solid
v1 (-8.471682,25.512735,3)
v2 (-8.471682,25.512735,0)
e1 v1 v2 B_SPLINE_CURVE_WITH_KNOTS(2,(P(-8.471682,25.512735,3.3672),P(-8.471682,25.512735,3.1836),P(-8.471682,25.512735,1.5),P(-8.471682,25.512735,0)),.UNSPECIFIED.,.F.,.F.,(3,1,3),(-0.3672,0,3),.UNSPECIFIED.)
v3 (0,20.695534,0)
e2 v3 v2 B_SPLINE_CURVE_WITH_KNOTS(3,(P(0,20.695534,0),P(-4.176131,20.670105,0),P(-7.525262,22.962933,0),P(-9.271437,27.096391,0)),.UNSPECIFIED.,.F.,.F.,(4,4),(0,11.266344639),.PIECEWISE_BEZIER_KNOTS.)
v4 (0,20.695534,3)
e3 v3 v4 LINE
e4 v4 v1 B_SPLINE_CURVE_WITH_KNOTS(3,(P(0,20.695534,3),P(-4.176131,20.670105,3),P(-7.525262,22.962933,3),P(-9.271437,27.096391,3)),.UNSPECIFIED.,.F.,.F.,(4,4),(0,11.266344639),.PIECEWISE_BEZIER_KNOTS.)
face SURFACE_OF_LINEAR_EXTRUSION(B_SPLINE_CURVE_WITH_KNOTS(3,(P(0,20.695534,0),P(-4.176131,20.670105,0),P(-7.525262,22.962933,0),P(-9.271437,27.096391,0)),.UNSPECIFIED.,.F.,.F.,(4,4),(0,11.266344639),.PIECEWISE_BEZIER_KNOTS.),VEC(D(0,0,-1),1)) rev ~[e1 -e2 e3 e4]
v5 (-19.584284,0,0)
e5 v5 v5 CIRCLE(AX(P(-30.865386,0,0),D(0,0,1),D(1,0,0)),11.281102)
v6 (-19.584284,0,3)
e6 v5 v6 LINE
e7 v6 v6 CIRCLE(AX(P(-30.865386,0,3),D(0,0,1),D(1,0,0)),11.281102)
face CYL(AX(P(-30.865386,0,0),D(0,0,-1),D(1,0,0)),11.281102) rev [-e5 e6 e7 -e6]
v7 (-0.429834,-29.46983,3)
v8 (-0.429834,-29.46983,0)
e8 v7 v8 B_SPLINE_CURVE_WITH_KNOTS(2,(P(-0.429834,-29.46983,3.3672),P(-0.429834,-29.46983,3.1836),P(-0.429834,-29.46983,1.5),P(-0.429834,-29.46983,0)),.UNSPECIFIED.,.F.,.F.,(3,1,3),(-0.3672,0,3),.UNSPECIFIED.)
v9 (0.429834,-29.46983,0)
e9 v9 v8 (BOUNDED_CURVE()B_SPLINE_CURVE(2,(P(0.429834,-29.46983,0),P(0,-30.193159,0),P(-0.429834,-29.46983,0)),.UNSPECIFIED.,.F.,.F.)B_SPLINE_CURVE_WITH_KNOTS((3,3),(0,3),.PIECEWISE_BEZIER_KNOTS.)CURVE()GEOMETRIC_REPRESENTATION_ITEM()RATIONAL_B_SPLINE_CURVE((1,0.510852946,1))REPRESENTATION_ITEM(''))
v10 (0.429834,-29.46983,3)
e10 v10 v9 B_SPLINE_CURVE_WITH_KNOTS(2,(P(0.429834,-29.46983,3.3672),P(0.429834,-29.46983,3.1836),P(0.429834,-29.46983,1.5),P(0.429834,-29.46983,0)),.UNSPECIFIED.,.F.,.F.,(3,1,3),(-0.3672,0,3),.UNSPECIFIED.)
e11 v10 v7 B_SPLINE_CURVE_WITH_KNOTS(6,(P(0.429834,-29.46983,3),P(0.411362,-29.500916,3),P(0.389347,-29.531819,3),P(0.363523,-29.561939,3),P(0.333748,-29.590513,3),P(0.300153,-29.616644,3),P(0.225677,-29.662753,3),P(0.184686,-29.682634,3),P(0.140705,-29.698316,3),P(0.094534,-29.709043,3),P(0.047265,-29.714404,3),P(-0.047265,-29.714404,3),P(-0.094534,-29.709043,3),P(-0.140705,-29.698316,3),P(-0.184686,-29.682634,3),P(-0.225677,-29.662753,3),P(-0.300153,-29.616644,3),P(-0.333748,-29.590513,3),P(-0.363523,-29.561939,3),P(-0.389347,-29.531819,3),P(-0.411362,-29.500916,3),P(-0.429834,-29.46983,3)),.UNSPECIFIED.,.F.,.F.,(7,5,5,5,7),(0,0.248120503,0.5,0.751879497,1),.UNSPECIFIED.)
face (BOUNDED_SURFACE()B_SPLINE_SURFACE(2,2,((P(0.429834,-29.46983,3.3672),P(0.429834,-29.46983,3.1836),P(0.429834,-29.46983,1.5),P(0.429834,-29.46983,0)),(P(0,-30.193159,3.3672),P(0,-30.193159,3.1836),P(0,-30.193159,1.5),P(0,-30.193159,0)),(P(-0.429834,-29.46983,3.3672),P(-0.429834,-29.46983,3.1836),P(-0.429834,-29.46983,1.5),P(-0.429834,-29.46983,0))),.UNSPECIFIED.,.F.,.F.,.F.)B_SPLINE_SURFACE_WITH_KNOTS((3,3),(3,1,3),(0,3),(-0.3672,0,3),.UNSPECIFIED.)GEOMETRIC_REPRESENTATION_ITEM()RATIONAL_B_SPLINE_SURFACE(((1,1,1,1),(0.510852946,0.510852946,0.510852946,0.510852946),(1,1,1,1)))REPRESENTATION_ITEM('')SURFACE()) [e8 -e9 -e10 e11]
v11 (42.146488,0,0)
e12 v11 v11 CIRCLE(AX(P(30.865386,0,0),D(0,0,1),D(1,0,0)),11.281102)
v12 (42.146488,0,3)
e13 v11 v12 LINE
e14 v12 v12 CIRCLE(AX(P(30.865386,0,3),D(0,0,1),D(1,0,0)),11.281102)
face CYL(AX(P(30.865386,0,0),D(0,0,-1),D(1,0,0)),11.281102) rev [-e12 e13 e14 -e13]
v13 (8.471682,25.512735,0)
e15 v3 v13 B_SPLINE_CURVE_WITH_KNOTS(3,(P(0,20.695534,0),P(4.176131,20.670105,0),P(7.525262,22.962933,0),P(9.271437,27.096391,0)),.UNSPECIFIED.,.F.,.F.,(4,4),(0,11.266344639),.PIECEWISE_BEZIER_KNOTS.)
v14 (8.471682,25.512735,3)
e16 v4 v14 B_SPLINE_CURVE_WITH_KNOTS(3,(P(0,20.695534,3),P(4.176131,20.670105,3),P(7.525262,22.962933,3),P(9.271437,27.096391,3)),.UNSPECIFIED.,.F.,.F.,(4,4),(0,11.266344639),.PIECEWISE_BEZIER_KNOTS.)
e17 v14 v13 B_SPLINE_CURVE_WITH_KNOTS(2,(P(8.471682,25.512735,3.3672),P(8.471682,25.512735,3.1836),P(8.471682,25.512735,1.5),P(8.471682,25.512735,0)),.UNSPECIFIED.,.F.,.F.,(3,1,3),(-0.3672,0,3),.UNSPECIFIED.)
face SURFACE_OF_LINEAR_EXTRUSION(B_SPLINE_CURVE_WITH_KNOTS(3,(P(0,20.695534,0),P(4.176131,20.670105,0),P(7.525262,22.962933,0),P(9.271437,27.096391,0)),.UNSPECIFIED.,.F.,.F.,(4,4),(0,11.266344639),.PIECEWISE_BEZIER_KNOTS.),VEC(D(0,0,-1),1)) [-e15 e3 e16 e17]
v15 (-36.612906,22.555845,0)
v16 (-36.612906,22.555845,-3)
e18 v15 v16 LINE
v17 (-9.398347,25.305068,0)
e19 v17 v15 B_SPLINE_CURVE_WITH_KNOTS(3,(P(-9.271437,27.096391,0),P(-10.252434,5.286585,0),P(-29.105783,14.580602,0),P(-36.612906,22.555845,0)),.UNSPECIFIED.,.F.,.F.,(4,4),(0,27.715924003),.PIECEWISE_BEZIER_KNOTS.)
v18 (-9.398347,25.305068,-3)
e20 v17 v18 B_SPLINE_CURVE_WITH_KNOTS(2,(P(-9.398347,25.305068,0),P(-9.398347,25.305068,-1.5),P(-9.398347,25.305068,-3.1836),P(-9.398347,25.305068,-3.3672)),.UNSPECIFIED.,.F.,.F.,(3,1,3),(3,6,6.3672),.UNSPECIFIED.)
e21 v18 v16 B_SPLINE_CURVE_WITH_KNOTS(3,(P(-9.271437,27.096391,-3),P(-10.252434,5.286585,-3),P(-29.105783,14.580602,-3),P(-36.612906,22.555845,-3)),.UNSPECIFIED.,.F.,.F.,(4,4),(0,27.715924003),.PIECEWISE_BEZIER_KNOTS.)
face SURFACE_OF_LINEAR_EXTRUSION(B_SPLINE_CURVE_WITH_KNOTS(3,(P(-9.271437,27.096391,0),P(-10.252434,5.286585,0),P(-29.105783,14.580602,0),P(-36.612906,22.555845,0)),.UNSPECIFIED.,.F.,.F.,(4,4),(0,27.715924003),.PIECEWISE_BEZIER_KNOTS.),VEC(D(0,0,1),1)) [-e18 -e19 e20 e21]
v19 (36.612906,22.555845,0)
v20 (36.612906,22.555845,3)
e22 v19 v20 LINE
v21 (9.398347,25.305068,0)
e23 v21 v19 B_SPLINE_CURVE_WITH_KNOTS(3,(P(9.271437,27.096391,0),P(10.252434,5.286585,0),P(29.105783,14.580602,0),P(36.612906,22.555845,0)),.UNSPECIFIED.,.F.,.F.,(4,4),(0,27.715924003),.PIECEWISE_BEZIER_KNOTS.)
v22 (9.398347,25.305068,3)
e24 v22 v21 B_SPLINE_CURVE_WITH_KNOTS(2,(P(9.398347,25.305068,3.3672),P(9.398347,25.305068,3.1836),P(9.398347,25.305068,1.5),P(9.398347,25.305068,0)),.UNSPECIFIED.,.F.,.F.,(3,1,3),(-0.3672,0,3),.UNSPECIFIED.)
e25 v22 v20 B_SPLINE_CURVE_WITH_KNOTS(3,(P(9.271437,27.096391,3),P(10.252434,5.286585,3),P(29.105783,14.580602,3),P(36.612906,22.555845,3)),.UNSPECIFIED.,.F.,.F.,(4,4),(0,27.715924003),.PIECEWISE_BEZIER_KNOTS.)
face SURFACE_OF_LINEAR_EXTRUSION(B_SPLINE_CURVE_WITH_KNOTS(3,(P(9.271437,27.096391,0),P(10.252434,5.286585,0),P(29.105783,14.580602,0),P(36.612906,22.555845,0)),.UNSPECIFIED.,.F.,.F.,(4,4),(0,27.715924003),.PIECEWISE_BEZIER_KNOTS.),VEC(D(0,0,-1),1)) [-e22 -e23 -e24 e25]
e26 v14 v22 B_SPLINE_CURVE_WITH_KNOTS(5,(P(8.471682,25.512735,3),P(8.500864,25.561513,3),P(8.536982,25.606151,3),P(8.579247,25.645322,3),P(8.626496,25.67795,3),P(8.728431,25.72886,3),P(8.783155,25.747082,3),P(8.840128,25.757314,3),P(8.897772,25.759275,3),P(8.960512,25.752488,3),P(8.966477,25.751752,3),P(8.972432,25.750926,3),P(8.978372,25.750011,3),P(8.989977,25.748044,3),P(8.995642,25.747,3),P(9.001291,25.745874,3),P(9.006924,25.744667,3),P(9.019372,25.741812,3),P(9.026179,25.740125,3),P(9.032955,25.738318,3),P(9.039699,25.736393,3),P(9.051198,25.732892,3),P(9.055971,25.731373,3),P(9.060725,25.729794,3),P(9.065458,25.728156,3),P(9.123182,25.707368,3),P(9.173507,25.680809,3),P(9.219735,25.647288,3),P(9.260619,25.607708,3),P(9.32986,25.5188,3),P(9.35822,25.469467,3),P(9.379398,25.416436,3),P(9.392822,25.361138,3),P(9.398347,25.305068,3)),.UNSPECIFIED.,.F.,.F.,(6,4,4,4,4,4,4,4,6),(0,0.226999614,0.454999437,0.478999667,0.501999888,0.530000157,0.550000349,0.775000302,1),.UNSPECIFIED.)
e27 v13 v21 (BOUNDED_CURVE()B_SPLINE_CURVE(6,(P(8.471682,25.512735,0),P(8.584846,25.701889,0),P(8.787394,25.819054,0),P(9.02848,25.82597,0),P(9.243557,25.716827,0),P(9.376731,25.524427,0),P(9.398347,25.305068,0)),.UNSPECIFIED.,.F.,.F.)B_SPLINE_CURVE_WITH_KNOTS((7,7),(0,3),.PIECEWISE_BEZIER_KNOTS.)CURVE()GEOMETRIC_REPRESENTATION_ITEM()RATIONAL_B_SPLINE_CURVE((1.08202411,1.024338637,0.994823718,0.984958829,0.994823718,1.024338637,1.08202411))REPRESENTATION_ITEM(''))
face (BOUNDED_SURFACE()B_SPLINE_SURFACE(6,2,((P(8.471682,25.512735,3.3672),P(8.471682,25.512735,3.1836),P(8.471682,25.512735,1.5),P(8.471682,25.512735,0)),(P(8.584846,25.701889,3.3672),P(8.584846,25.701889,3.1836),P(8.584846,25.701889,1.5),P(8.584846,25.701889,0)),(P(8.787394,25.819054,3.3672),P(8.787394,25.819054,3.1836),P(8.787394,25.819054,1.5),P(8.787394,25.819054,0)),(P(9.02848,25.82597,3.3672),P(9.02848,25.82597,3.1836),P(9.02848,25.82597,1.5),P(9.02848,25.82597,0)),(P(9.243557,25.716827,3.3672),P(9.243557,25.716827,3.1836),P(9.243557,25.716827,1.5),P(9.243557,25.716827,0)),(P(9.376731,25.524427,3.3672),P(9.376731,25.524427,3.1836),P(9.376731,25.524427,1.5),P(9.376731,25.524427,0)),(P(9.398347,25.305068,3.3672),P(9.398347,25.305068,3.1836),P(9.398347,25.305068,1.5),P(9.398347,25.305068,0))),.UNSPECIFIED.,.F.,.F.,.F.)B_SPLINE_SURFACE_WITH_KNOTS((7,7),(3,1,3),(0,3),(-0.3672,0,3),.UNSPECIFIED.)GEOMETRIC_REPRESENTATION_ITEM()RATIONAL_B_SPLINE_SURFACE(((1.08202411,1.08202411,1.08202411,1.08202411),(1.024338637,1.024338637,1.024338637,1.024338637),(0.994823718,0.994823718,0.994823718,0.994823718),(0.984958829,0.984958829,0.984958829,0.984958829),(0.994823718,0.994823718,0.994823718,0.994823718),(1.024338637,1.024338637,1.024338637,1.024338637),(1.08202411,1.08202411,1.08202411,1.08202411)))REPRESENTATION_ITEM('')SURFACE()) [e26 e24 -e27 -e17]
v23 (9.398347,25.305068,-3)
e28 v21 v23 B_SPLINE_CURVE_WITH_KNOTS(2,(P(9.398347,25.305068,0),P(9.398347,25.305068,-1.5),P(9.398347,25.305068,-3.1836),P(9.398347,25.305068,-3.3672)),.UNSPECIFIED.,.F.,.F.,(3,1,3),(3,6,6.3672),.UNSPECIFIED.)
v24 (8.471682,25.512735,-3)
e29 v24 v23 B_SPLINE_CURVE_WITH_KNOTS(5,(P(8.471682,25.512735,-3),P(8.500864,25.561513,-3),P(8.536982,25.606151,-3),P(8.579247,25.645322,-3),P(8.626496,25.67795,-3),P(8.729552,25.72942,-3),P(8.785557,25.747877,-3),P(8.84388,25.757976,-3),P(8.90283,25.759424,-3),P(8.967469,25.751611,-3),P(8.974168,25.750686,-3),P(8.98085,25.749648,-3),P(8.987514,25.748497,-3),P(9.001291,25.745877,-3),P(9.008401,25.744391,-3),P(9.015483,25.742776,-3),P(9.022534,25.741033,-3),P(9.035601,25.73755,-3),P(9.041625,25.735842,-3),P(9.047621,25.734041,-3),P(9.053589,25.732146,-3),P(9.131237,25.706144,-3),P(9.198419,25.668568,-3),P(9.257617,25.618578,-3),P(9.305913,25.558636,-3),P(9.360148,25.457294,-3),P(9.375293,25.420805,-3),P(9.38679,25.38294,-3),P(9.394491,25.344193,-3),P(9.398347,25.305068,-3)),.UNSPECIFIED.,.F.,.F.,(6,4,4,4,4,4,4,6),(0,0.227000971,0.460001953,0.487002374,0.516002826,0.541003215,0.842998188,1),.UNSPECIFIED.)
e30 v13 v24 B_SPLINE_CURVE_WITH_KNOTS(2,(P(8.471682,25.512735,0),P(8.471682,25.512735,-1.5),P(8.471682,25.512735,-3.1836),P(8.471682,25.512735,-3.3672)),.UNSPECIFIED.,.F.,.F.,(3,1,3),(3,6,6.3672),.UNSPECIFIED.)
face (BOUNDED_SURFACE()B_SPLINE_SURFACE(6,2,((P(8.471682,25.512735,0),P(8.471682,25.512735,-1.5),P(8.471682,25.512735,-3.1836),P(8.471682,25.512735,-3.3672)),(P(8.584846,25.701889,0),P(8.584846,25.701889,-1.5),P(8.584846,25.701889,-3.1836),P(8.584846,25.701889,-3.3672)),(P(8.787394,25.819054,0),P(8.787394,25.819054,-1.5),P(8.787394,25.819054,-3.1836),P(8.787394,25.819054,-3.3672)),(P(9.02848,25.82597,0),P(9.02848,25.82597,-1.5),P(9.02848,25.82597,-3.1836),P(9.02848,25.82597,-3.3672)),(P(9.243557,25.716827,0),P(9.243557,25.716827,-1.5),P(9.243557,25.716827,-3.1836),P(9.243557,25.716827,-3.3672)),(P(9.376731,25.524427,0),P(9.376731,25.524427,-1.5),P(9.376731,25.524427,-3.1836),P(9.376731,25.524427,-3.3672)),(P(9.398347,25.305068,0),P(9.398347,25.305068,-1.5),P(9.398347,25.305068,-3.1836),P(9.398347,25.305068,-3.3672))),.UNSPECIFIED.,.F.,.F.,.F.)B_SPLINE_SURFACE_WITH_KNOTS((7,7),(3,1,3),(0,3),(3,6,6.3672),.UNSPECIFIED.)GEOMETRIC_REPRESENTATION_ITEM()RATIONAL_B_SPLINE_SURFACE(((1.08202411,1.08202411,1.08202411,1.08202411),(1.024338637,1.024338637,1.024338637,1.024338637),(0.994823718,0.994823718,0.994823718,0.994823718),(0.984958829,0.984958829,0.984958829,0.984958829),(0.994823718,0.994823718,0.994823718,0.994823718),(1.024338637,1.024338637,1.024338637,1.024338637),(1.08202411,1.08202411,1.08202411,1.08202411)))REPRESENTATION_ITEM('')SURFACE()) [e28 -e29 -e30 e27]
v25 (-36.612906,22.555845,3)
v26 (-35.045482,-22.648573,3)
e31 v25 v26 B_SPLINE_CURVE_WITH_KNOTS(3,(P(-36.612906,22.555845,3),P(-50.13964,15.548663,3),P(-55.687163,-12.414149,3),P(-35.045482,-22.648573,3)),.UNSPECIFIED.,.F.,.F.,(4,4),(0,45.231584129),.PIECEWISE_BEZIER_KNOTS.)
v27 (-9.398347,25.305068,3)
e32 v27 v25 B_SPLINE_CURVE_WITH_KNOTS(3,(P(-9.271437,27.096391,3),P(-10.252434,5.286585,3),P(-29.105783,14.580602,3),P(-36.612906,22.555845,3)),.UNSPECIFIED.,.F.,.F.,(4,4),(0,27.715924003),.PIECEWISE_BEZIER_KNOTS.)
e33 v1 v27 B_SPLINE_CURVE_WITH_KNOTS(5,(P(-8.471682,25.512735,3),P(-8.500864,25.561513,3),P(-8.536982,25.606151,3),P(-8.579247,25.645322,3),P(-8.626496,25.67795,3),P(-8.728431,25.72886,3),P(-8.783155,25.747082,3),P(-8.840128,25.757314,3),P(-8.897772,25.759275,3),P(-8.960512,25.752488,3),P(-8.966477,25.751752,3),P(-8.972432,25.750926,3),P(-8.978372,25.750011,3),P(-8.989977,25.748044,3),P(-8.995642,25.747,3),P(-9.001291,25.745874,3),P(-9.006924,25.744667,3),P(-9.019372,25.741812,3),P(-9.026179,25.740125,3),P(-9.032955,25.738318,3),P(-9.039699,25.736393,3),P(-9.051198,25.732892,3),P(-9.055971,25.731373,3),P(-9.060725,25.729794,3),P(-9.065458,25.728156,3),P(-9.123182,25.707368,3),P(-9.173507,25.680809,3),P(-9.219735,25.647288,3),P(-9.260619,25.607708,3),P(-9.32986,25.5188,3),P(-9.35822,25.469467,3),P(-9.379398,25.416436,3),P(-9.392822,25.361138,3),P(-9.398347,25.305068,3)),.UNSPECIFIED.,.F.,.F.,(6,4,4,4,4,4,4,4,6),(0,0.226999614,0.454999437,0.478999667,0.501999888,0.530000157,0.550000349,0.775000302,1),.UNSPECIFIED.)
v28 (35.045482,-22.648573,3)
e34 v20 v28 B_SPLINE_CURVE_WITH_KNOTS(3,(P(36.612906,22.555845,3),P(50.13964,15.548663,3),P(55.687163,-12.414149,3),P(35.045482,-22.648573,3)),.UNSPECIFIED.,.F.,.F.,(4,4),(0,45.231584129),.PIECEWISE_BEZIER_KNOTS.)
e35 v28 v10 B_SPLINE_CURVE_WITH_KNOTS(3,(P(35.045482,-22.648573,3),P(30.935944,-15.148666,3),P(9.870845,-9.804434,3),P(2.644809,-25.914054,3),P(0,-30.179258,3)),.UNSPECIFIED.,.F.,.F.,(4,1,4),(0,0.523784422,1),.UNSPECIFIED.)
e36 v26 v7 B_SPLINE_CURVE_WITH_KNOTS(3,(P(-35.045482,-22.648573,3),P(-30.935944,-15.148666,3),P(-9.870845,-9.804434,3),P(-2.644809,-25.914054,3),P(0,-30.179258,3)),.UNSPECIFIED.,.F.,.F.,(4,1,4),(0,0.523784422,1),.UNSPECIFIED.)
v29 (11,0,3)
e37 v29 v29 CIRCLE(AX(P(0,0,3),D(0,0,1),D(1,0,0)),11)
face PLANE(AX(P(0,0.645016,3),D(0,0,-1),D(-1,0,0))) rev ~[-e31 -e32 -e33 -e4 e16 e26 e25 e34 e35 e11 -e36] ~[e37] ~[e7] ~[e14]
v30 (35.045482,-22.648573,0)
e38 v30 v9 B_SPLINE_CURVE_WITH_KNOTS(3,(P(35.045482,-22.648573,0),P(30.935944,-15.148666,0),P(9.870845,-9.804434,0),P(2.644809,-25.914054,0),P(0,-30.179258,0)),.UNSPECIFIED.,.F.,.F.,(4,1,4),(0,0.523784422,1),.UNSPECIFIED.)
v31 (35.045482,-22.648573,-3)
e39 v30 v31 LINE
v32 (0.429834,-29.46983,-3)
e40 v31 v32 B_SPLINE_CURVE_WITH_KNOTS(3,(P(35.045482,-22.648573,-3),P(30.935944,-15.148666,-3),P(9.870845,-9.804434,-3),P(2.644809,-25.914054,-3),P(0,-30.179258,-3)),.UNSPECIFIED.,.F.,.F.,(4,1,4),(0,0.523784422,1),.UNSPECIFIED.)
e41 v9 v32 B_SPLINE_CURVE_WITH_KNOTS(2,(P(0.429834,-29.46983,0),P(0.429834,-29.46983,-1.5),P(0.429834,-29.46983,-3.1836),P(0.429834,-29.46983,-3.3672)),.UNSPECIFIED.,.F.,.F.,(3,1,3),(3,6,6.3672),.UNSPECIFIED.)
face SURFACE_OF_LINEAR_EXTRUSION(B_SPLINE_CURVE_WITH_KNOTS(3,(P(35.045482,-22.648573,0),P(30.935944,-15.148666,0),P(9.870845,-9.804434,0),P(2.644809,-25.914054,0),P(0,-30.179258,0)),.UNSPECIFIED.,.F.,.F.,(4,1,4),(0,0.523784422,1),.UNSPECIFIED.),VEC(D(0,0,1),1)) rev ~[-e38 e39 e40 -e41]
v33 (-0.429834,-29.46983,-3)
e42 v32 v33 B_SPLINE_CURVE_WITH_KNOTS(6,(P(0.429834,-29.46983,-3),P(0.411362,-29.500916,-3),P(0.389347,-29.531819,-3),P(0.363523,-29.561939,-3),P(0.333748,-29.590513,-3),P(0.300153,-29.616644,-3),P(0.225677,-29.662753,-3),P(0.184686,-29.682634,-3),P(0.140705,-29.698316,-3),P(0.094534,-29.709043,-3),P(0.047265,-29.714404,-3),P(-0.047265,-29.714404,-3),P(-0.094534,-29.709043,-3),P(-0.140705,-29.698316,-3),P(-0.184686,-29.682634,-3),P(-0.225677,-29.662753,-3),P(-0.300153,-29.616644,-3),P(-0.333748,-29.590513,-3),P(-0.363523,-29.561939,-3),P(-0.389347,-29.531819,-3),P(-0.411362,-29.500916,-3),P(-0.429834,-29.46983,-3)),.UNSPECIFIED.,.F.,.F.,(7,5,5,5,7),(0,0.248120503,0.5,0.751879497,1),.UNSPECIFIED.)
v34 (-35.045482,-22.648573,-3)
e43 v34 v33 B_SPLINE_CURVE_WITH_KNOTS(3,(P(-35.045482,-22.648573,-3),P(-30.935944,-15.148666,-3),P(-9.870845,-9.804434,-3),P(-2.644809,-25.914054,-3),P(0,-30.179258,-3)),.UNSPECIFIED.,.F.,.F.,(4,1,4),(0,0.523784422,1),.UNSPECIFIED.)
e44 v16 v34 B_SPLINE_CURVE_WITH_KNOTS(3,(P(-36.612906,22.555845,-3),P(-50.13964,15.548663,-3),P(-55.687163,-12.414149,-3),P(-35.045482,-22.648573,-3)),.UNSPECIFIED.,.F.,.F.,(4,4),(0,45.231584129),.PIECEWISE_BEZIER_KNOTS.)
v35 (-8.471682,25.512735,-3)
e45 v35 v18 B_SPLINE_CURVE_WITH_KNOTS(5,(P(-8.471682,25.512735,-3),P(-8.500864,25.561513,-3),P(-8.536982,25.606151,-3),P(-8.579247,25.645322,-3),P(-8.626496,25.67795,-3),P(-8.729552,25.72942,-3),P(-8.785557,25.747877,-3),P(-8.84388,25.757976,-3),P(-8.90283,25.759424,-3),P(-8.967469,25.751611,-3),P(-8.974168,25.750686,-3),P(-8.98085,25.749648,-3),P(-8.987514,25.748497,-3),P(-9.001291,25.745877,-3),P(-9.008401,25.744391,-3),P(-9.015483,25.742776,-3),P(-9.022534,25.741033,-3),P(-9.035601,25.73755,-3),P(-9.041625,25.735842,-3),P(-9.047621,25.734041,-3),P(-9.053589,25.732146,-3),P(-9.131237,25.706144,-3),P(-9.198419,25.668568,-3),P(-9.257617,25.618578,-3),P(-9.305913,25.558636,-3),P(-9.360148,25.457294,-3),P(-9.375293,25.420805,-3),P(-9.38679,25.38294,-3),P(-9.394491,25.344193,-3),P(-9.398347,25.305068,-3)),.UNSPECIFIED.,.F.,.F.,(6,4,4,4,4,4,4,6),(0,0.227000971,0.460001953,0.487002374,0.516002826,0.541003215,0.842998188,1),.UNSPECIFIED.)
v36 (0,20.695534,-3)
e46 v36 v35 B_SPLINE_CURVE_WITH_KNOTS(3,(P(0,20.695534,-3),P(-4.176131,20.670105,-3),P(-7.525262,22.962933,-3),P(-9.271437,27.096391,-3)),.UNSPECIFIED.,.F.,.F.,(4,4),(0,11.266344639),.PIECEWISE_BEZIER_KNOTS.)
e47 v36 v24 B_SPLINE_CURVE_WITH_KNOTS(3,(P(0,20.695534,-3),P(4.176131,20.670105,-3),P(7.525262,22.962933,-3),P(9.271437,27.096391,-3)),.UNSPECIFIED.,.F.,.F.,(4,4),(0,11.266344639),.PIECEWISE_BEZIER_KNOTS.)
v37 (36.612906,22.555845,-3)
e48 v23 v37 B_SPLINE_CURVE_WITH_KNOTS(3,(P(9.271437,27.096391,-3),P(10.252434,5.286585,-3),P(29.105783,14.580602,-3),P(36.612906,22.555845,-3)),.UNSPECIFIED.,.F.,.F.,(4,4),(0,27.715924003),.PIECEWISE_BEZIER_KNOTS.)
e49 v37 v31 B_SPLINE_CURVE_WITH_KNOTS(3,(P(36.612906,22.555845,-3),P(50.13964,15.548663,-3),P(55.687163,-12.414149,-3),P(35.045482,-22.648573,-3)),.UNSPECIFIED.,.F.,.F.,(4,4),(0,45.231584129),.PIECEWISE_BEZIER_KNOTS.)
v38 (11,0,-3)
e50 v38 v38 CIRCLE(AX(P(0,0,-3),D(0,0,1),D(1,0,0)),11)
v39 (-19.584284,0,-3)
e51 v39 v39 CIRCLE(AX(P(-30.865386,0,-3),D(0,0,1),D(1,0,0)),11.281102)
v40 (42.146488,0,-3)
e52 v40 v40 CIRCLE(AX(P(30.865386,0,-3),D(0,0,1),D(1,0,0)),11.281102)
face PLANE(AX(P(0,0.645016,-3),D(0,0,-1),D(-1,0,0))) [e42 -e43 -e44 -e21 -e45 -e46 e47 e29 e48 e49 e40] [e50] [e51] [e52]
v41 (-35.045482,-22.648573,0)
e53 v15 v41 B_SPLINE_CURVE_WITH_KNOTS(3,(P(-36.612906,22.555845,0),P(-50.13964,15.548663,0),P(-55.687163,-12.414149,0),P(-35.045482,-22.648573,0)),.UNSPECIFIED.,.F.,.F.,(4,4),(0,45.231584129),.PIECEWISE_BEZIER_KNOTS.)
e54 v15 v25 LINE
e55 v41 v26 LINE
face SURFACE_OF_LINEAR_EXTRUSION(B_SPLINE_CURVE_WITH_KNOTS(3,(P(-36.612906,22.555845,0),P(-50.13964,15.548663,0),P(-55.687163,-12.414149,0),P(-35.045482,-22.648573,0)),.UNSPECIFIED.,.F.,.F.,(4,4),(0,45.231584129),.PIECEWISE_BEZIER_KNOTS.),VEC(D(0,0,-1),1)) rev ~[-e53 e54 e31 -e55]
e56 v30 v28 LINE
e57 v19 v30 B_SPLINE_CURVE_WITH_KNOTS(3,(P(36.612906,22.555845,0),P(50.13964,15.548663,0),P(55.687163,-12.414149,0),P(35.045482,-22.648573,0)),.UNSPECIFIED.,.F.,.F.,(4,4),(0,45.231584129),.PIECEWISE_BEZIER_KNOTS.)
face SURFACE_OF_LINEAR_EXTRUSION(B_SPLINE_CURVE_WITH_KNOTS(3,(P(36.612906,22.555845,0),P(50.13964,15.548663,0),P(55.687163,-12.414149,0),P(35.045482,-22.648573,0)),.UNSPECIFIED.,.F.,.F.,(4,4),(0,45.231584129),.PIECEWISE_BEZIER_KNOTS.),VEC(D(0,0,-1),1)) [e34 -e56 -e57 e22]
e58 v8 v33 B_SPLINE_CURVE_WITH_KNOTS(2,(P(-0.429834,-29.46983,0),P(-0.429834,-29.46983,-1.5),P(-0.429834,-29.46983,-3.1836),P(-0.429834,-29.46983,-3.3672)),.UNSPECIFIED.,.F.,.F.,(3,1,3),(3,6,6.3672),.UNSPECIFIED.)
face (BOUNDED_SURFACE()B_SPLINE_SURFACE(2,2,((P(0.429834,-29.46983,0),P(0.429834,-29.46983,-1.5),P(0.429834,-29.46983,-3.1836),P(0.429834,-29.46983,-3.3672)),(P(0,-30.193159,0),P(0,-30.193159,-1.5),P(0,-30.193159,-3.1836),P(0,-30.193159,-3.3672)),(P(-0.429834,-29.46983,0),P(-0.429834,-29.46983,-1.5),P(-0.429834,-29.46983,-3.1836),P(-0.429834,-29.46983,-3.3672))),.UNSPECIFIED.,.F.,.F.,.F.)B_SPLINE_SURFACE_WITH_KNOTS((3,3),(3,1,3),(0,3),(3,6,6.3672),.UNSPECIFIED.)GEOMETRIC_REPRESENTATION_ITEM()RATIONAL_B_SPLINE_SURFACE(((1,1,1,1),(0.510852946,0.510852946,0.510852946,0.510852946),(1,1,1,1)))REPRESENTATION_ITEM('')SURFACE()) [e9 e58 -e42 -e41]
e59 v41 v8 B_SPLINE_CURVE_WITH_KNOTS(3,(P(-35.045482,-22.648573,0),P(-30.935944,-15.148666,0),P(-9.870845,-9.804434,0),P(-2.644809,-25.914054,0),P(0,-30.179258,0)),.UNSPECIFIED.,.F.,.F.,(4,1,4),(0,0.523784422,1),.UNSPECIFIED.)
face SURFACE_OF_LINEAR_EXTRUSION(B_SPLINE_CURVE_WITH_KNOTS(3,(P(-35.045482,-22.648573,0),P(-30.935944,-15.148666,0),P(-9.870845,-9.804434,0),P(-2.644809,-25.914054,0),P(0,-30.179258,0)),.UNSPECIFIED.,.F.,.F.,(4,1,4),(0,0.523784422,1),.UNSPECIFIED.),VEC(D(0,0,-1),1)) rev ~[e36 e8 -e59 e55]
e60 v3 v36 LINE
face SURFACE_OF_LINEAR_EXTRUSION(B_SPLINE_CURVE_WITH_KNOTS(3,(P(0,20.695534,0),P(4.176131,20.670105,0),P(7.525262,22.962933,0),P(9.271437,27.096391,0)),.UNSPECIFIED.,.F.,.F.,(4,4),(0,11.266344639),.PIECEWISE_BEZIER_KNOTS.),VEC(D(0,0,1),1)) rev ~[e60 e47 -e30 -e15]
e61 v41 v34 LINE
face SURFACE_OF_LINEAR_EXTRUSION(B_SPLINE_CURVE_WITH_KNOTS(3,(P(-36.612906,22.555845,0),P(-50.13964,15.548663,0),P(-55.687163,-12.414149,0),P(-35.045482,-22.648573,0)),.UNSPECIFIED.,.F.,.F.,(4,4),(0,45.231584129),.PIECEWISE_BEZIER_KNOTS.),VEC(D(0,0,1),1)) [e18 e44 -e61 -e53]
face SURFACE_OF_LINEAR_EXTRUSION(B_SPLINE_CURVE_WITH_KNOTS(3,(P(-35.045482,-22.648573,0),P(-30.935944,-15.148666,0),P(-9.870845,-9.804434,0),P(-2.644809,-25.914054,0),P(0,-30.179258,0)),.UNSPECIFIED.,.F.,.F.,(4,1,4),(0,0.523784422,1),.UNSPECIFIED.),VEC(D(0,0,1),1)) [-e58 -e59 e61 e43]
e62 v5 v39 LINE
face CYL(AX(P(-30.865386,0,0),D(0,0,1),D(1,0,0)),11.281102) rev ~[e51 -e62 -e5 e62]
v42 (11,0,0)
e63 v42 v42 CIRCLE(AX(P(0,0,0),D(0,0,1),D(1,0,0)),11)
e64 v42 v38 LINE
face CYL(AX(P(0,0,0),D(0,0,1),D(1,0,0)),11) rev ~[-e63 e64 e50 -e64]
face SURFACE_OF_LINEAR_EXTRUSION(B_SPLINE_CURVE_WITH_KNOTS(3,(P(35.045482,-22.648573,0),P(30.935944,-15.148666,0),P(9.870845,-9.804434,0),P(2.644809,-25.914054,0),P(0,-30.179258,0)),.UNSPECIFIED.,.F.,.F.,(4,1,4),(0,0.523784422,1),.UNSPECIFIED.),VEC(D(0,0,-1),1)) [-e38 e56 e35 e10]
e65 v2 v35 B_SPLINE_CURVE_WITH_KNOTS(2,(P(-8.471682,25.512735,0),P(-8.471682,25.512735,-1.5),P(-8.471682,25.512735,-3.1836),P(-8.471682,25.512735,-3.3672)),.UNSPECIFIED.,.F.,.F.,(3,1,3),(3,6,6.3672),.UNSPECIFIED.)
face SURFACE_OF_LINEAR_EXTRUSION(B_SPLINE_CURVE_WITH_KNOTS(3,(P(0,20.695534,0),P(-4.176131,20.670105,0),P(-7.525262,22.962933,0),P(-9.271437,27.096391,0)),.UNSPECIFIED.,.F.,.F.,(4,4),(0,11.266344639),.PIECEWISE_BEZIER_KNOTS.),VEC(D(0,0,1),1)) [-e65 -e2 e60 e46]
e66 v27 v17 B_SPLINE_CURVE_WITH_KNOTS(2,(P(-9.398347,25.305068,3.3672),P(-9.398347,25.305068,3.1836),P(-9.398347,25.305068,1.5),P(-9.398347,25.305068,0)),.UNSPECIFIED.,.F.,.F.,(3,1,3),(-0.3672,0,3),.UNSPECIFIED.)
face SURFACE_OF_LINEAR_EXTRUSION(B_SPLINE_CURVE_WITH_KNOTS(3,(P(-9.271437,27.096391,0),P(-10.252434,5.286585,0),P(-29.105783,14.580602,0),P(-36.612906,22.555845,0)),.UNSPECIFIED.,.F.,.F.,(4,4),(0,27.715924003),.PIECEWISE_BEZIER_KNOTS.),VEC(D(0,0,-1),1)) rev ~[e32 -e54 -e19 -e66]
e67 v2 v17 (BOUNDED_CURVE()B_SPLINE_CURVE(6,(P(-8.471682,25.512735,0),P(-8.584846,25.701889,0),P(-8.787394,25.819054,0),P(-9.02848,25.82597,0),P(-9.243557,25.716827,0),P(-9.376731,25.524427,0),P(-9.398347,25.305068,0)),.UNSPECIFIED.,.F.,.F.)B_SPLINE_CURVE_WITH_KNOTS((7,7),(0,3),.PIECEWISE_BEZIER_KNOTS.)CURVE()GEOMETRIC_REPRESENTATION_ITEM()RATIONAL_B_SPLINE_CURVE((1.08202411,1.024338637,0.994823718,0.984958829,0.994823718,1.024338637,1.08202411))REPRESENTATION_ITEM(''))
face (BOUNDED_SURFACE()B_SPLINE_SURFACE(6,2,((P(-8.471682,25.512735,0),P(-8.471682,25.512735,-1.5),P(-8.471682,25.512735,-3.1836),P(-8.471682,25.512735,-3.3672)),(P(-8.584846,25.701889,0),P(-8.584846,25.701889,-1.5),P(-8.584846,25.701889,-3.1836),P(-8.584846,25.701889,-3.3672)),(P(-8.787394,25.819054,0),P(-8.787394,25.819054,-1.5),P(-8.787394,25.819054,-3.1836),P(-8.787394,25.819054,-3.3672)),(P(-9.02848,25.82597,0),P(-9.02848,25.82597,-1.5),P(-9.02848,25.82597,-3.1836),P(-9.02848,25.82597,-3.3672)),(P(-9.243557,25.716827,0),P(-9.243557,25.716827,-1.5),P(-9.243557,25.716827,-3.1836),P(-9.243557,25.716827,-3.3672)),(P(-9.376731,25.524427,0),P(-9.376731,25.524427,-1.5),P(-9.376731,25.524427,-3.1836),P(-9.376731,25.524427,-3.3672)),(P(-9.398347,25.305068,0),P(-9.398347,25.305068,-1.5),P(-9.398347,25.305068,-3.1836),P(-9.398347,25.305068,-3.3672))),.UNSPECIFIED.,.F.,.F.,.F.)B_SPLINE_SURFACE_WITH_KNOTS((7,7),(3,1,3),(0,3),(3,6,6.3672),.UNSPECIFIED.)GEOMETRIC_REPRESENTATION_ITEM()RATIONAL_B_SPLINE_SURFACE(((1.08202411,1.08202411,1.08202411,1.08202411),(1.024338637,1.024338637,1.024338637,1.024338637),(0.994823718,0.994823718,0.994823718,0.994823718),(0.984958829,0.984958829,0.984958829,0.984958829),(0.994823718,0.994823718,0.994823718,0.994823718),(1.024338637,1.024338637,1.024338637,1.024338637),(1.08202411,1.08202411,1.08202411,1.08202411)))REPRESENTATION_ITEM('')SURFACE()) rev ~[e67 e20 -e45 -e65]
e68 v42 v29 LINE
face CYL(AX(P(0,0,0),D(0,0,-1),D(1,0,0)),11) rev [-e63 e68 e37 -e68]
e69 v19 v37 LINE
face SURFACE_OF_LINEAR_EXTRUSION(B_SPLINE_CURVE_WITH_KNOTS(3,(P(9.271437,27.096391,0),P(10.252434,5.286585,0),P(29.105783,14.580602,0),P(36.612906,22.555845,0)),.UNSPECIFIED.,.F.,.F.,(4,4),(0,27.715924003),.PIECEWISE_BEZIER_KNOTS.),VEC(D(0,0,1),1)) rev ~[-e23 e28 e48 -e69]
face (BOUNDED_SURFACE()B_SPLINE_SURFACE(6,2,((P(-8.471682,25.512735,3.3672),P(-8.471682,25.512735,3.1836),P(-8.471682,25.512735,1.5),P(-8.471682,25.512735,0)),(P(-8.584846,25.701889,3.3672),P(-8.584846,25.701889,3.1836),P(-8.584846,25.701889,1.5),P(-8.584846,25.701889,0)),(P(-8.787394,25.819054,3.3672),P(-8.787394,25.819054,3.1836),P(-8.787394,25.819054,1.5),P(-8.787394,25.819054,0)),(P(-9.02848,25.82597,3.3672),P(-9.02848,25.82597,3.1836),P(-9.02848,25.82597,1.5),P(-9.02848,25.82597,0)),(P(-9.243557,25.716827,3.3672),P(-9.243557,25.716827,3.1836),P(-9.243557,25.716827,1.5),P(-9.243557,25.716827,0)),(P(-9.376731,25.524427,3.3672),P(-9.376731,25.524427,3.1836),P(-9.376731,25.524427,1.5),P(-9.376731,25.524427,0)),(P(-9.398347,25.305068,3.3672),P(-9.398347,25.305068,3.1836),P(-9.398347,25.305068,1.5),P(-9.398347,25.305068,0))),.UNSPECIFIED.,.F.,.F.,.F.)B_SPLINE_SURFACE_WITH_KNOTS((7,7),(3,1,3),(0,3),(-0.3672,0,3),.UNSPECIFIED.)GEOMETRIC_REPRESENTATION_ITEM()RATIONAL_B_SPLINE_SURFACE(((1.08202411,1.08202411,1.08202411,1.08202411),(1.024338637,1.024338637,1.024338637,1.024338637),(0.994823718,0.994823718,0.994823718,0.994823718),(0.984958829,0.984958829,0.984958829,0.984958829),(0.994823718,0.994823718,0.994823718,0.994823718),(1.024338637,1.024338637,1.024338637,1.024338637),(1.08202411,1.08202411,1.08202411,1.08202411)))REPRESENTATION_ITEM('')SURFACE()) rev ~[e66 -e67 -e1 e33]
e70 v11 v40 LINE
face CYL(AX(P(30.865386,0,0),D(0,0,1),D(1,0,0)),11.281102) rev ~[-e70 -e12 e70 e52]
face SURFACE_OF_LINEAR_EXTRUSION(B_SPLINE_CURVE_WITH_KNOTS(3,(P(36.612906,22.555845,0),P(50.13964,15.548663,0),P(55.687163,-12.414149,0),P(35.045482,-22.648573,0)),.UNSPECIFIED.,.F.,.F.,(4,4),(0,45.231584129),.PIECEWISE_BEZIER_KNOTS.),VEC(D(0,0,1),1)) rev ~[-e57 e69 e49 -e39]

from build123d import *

# Parameters (mm, degrees)
F0_R     = 11.2811018545
F0_R_2   = 11
F1_DEPTH = 3
F2_R     = 0.5


with BuildPart() as f1:
    # F0 (on Top) → F1 (new body, symmetric)
    with BuildSketch(Plane.XY):
        with BuildLine():
            add(Edge.make_bspline(
                [(0, 20.6955336034), (4.176130984, 20.6701047719), (7.5252619572, 22.9629334062), (9.2714373022, 27.0963907242)],
                knots=[0, 0, 0, 0, 11.2663446392, 11.2663446392, 11.2663446392, 11.2663446392], degree=3))
            add(Edge.make_bspline(
                [(0, 20.6955336034), (-4.176130984, 20.6701047719), (-7.5252619572, 22.9629334062), (-9.2714373022, 27.0963907242)],
                knots=[0, 0, 0, 0, 11.2663446392, 11.2663446392, 11.2663446392, 11.2663446392], degree=3))
            add(Edge.make_bspline(
                [(-9.2714373022, 27.0963907242), (-10.252433829, 5.2865850739), (-29.1057825089, 14.5806018263), (-36.6129055619, 22.5558448583)],
                knots=[0, 0, 0, 0, 27.7159240033, 27.7159240033, 27.7159240033, 27.7159240033], degree=3))
            add(Edge.make_bspline(
                [(-36.6129055619, 22.5558448583), (-50.1396395266, 15.5486632138), (-55.6871630251, -12.4141490087), (-35.0454822183, -22.6485729218)],
                knots=[0, 0, 0, 0, 45.2315841285, 45.2315841285, 45.2315841285, 45.2315841285], degree=3))
            add(Edge.make_bspline(
                [(-35.0454822183, -22.6485729218), (-30.9359437749, -15.1486663001), (-9.8708452879, -9.8044342408), (-2.6448085105, -25.9140540409), (0, -30.179258436)],
                knots=[0, 0, 0, 0, 0.523784422, 1, 1, 1, 1], degree=3))
            add(Edge.make_bspline(
                [(35.0454822183, -22.6485729218), (30.9359437749, -15.1486663001), (9.8708452879, -9.8044342408), (2.6448085105, -25.9140540409), (0, -30.179258436)],
                knots=[0, 0, 0, 0, 0.523784422, 1, 1, 1, 1], degree=3))
            add(Edge.make_bspline(
                [(36.6129055619, 22.5558448583), (50.1396395266, 15.5486632138), (55.6871630251, -12.4141490087), (35.0454822183, -22.6485729218)],
                knots=[0, 0, 0, 0, 45.2315841285, 45.2315841285, 45.2315841285, 45.2315841285], degree=3))
            add(Edge.make_bspline(
                [(9.2714373022, 27.0963907242), (10.252433829, 5.2865850739), (29.1057825089, 14.5806018263), (36.6129055619, 22.5558448583)],
                knots=[0, 0, 0, 0, 27.7159240033, 27.7159240033, 27.7159240033, 27.7159240033], degree=3))
        make_face()
        with Locations((-30.8653861284, 0)):
            Circle(F0_R, mode=Mode.SUBTRACT)
        Circle(F0_R_2, mode=Mode.SUBTRACT)
        with Locations((30.8653861284, 0)):
            Circle(F0_R, mode=Mode.SUBTRACT)
    extrude(amount=F1_DEPTH, both=True)

    # F2
    f2_edges = [f1.edges().sort_by_distance(p)[0] for p in [
        (-9.271437, 27.096391, -1.5),
        (-9.271437, 27.096391, 1.5),
        (9.271437, 27.096391, -1.5),
        (9.271437, 27.096391, 1.5),
        (0, -30.179258, -1.5),
        (0, -30.179258, 1.5),
    ]]
    fillet(f2_edges, radius=F2_R)


solid = f1.part
